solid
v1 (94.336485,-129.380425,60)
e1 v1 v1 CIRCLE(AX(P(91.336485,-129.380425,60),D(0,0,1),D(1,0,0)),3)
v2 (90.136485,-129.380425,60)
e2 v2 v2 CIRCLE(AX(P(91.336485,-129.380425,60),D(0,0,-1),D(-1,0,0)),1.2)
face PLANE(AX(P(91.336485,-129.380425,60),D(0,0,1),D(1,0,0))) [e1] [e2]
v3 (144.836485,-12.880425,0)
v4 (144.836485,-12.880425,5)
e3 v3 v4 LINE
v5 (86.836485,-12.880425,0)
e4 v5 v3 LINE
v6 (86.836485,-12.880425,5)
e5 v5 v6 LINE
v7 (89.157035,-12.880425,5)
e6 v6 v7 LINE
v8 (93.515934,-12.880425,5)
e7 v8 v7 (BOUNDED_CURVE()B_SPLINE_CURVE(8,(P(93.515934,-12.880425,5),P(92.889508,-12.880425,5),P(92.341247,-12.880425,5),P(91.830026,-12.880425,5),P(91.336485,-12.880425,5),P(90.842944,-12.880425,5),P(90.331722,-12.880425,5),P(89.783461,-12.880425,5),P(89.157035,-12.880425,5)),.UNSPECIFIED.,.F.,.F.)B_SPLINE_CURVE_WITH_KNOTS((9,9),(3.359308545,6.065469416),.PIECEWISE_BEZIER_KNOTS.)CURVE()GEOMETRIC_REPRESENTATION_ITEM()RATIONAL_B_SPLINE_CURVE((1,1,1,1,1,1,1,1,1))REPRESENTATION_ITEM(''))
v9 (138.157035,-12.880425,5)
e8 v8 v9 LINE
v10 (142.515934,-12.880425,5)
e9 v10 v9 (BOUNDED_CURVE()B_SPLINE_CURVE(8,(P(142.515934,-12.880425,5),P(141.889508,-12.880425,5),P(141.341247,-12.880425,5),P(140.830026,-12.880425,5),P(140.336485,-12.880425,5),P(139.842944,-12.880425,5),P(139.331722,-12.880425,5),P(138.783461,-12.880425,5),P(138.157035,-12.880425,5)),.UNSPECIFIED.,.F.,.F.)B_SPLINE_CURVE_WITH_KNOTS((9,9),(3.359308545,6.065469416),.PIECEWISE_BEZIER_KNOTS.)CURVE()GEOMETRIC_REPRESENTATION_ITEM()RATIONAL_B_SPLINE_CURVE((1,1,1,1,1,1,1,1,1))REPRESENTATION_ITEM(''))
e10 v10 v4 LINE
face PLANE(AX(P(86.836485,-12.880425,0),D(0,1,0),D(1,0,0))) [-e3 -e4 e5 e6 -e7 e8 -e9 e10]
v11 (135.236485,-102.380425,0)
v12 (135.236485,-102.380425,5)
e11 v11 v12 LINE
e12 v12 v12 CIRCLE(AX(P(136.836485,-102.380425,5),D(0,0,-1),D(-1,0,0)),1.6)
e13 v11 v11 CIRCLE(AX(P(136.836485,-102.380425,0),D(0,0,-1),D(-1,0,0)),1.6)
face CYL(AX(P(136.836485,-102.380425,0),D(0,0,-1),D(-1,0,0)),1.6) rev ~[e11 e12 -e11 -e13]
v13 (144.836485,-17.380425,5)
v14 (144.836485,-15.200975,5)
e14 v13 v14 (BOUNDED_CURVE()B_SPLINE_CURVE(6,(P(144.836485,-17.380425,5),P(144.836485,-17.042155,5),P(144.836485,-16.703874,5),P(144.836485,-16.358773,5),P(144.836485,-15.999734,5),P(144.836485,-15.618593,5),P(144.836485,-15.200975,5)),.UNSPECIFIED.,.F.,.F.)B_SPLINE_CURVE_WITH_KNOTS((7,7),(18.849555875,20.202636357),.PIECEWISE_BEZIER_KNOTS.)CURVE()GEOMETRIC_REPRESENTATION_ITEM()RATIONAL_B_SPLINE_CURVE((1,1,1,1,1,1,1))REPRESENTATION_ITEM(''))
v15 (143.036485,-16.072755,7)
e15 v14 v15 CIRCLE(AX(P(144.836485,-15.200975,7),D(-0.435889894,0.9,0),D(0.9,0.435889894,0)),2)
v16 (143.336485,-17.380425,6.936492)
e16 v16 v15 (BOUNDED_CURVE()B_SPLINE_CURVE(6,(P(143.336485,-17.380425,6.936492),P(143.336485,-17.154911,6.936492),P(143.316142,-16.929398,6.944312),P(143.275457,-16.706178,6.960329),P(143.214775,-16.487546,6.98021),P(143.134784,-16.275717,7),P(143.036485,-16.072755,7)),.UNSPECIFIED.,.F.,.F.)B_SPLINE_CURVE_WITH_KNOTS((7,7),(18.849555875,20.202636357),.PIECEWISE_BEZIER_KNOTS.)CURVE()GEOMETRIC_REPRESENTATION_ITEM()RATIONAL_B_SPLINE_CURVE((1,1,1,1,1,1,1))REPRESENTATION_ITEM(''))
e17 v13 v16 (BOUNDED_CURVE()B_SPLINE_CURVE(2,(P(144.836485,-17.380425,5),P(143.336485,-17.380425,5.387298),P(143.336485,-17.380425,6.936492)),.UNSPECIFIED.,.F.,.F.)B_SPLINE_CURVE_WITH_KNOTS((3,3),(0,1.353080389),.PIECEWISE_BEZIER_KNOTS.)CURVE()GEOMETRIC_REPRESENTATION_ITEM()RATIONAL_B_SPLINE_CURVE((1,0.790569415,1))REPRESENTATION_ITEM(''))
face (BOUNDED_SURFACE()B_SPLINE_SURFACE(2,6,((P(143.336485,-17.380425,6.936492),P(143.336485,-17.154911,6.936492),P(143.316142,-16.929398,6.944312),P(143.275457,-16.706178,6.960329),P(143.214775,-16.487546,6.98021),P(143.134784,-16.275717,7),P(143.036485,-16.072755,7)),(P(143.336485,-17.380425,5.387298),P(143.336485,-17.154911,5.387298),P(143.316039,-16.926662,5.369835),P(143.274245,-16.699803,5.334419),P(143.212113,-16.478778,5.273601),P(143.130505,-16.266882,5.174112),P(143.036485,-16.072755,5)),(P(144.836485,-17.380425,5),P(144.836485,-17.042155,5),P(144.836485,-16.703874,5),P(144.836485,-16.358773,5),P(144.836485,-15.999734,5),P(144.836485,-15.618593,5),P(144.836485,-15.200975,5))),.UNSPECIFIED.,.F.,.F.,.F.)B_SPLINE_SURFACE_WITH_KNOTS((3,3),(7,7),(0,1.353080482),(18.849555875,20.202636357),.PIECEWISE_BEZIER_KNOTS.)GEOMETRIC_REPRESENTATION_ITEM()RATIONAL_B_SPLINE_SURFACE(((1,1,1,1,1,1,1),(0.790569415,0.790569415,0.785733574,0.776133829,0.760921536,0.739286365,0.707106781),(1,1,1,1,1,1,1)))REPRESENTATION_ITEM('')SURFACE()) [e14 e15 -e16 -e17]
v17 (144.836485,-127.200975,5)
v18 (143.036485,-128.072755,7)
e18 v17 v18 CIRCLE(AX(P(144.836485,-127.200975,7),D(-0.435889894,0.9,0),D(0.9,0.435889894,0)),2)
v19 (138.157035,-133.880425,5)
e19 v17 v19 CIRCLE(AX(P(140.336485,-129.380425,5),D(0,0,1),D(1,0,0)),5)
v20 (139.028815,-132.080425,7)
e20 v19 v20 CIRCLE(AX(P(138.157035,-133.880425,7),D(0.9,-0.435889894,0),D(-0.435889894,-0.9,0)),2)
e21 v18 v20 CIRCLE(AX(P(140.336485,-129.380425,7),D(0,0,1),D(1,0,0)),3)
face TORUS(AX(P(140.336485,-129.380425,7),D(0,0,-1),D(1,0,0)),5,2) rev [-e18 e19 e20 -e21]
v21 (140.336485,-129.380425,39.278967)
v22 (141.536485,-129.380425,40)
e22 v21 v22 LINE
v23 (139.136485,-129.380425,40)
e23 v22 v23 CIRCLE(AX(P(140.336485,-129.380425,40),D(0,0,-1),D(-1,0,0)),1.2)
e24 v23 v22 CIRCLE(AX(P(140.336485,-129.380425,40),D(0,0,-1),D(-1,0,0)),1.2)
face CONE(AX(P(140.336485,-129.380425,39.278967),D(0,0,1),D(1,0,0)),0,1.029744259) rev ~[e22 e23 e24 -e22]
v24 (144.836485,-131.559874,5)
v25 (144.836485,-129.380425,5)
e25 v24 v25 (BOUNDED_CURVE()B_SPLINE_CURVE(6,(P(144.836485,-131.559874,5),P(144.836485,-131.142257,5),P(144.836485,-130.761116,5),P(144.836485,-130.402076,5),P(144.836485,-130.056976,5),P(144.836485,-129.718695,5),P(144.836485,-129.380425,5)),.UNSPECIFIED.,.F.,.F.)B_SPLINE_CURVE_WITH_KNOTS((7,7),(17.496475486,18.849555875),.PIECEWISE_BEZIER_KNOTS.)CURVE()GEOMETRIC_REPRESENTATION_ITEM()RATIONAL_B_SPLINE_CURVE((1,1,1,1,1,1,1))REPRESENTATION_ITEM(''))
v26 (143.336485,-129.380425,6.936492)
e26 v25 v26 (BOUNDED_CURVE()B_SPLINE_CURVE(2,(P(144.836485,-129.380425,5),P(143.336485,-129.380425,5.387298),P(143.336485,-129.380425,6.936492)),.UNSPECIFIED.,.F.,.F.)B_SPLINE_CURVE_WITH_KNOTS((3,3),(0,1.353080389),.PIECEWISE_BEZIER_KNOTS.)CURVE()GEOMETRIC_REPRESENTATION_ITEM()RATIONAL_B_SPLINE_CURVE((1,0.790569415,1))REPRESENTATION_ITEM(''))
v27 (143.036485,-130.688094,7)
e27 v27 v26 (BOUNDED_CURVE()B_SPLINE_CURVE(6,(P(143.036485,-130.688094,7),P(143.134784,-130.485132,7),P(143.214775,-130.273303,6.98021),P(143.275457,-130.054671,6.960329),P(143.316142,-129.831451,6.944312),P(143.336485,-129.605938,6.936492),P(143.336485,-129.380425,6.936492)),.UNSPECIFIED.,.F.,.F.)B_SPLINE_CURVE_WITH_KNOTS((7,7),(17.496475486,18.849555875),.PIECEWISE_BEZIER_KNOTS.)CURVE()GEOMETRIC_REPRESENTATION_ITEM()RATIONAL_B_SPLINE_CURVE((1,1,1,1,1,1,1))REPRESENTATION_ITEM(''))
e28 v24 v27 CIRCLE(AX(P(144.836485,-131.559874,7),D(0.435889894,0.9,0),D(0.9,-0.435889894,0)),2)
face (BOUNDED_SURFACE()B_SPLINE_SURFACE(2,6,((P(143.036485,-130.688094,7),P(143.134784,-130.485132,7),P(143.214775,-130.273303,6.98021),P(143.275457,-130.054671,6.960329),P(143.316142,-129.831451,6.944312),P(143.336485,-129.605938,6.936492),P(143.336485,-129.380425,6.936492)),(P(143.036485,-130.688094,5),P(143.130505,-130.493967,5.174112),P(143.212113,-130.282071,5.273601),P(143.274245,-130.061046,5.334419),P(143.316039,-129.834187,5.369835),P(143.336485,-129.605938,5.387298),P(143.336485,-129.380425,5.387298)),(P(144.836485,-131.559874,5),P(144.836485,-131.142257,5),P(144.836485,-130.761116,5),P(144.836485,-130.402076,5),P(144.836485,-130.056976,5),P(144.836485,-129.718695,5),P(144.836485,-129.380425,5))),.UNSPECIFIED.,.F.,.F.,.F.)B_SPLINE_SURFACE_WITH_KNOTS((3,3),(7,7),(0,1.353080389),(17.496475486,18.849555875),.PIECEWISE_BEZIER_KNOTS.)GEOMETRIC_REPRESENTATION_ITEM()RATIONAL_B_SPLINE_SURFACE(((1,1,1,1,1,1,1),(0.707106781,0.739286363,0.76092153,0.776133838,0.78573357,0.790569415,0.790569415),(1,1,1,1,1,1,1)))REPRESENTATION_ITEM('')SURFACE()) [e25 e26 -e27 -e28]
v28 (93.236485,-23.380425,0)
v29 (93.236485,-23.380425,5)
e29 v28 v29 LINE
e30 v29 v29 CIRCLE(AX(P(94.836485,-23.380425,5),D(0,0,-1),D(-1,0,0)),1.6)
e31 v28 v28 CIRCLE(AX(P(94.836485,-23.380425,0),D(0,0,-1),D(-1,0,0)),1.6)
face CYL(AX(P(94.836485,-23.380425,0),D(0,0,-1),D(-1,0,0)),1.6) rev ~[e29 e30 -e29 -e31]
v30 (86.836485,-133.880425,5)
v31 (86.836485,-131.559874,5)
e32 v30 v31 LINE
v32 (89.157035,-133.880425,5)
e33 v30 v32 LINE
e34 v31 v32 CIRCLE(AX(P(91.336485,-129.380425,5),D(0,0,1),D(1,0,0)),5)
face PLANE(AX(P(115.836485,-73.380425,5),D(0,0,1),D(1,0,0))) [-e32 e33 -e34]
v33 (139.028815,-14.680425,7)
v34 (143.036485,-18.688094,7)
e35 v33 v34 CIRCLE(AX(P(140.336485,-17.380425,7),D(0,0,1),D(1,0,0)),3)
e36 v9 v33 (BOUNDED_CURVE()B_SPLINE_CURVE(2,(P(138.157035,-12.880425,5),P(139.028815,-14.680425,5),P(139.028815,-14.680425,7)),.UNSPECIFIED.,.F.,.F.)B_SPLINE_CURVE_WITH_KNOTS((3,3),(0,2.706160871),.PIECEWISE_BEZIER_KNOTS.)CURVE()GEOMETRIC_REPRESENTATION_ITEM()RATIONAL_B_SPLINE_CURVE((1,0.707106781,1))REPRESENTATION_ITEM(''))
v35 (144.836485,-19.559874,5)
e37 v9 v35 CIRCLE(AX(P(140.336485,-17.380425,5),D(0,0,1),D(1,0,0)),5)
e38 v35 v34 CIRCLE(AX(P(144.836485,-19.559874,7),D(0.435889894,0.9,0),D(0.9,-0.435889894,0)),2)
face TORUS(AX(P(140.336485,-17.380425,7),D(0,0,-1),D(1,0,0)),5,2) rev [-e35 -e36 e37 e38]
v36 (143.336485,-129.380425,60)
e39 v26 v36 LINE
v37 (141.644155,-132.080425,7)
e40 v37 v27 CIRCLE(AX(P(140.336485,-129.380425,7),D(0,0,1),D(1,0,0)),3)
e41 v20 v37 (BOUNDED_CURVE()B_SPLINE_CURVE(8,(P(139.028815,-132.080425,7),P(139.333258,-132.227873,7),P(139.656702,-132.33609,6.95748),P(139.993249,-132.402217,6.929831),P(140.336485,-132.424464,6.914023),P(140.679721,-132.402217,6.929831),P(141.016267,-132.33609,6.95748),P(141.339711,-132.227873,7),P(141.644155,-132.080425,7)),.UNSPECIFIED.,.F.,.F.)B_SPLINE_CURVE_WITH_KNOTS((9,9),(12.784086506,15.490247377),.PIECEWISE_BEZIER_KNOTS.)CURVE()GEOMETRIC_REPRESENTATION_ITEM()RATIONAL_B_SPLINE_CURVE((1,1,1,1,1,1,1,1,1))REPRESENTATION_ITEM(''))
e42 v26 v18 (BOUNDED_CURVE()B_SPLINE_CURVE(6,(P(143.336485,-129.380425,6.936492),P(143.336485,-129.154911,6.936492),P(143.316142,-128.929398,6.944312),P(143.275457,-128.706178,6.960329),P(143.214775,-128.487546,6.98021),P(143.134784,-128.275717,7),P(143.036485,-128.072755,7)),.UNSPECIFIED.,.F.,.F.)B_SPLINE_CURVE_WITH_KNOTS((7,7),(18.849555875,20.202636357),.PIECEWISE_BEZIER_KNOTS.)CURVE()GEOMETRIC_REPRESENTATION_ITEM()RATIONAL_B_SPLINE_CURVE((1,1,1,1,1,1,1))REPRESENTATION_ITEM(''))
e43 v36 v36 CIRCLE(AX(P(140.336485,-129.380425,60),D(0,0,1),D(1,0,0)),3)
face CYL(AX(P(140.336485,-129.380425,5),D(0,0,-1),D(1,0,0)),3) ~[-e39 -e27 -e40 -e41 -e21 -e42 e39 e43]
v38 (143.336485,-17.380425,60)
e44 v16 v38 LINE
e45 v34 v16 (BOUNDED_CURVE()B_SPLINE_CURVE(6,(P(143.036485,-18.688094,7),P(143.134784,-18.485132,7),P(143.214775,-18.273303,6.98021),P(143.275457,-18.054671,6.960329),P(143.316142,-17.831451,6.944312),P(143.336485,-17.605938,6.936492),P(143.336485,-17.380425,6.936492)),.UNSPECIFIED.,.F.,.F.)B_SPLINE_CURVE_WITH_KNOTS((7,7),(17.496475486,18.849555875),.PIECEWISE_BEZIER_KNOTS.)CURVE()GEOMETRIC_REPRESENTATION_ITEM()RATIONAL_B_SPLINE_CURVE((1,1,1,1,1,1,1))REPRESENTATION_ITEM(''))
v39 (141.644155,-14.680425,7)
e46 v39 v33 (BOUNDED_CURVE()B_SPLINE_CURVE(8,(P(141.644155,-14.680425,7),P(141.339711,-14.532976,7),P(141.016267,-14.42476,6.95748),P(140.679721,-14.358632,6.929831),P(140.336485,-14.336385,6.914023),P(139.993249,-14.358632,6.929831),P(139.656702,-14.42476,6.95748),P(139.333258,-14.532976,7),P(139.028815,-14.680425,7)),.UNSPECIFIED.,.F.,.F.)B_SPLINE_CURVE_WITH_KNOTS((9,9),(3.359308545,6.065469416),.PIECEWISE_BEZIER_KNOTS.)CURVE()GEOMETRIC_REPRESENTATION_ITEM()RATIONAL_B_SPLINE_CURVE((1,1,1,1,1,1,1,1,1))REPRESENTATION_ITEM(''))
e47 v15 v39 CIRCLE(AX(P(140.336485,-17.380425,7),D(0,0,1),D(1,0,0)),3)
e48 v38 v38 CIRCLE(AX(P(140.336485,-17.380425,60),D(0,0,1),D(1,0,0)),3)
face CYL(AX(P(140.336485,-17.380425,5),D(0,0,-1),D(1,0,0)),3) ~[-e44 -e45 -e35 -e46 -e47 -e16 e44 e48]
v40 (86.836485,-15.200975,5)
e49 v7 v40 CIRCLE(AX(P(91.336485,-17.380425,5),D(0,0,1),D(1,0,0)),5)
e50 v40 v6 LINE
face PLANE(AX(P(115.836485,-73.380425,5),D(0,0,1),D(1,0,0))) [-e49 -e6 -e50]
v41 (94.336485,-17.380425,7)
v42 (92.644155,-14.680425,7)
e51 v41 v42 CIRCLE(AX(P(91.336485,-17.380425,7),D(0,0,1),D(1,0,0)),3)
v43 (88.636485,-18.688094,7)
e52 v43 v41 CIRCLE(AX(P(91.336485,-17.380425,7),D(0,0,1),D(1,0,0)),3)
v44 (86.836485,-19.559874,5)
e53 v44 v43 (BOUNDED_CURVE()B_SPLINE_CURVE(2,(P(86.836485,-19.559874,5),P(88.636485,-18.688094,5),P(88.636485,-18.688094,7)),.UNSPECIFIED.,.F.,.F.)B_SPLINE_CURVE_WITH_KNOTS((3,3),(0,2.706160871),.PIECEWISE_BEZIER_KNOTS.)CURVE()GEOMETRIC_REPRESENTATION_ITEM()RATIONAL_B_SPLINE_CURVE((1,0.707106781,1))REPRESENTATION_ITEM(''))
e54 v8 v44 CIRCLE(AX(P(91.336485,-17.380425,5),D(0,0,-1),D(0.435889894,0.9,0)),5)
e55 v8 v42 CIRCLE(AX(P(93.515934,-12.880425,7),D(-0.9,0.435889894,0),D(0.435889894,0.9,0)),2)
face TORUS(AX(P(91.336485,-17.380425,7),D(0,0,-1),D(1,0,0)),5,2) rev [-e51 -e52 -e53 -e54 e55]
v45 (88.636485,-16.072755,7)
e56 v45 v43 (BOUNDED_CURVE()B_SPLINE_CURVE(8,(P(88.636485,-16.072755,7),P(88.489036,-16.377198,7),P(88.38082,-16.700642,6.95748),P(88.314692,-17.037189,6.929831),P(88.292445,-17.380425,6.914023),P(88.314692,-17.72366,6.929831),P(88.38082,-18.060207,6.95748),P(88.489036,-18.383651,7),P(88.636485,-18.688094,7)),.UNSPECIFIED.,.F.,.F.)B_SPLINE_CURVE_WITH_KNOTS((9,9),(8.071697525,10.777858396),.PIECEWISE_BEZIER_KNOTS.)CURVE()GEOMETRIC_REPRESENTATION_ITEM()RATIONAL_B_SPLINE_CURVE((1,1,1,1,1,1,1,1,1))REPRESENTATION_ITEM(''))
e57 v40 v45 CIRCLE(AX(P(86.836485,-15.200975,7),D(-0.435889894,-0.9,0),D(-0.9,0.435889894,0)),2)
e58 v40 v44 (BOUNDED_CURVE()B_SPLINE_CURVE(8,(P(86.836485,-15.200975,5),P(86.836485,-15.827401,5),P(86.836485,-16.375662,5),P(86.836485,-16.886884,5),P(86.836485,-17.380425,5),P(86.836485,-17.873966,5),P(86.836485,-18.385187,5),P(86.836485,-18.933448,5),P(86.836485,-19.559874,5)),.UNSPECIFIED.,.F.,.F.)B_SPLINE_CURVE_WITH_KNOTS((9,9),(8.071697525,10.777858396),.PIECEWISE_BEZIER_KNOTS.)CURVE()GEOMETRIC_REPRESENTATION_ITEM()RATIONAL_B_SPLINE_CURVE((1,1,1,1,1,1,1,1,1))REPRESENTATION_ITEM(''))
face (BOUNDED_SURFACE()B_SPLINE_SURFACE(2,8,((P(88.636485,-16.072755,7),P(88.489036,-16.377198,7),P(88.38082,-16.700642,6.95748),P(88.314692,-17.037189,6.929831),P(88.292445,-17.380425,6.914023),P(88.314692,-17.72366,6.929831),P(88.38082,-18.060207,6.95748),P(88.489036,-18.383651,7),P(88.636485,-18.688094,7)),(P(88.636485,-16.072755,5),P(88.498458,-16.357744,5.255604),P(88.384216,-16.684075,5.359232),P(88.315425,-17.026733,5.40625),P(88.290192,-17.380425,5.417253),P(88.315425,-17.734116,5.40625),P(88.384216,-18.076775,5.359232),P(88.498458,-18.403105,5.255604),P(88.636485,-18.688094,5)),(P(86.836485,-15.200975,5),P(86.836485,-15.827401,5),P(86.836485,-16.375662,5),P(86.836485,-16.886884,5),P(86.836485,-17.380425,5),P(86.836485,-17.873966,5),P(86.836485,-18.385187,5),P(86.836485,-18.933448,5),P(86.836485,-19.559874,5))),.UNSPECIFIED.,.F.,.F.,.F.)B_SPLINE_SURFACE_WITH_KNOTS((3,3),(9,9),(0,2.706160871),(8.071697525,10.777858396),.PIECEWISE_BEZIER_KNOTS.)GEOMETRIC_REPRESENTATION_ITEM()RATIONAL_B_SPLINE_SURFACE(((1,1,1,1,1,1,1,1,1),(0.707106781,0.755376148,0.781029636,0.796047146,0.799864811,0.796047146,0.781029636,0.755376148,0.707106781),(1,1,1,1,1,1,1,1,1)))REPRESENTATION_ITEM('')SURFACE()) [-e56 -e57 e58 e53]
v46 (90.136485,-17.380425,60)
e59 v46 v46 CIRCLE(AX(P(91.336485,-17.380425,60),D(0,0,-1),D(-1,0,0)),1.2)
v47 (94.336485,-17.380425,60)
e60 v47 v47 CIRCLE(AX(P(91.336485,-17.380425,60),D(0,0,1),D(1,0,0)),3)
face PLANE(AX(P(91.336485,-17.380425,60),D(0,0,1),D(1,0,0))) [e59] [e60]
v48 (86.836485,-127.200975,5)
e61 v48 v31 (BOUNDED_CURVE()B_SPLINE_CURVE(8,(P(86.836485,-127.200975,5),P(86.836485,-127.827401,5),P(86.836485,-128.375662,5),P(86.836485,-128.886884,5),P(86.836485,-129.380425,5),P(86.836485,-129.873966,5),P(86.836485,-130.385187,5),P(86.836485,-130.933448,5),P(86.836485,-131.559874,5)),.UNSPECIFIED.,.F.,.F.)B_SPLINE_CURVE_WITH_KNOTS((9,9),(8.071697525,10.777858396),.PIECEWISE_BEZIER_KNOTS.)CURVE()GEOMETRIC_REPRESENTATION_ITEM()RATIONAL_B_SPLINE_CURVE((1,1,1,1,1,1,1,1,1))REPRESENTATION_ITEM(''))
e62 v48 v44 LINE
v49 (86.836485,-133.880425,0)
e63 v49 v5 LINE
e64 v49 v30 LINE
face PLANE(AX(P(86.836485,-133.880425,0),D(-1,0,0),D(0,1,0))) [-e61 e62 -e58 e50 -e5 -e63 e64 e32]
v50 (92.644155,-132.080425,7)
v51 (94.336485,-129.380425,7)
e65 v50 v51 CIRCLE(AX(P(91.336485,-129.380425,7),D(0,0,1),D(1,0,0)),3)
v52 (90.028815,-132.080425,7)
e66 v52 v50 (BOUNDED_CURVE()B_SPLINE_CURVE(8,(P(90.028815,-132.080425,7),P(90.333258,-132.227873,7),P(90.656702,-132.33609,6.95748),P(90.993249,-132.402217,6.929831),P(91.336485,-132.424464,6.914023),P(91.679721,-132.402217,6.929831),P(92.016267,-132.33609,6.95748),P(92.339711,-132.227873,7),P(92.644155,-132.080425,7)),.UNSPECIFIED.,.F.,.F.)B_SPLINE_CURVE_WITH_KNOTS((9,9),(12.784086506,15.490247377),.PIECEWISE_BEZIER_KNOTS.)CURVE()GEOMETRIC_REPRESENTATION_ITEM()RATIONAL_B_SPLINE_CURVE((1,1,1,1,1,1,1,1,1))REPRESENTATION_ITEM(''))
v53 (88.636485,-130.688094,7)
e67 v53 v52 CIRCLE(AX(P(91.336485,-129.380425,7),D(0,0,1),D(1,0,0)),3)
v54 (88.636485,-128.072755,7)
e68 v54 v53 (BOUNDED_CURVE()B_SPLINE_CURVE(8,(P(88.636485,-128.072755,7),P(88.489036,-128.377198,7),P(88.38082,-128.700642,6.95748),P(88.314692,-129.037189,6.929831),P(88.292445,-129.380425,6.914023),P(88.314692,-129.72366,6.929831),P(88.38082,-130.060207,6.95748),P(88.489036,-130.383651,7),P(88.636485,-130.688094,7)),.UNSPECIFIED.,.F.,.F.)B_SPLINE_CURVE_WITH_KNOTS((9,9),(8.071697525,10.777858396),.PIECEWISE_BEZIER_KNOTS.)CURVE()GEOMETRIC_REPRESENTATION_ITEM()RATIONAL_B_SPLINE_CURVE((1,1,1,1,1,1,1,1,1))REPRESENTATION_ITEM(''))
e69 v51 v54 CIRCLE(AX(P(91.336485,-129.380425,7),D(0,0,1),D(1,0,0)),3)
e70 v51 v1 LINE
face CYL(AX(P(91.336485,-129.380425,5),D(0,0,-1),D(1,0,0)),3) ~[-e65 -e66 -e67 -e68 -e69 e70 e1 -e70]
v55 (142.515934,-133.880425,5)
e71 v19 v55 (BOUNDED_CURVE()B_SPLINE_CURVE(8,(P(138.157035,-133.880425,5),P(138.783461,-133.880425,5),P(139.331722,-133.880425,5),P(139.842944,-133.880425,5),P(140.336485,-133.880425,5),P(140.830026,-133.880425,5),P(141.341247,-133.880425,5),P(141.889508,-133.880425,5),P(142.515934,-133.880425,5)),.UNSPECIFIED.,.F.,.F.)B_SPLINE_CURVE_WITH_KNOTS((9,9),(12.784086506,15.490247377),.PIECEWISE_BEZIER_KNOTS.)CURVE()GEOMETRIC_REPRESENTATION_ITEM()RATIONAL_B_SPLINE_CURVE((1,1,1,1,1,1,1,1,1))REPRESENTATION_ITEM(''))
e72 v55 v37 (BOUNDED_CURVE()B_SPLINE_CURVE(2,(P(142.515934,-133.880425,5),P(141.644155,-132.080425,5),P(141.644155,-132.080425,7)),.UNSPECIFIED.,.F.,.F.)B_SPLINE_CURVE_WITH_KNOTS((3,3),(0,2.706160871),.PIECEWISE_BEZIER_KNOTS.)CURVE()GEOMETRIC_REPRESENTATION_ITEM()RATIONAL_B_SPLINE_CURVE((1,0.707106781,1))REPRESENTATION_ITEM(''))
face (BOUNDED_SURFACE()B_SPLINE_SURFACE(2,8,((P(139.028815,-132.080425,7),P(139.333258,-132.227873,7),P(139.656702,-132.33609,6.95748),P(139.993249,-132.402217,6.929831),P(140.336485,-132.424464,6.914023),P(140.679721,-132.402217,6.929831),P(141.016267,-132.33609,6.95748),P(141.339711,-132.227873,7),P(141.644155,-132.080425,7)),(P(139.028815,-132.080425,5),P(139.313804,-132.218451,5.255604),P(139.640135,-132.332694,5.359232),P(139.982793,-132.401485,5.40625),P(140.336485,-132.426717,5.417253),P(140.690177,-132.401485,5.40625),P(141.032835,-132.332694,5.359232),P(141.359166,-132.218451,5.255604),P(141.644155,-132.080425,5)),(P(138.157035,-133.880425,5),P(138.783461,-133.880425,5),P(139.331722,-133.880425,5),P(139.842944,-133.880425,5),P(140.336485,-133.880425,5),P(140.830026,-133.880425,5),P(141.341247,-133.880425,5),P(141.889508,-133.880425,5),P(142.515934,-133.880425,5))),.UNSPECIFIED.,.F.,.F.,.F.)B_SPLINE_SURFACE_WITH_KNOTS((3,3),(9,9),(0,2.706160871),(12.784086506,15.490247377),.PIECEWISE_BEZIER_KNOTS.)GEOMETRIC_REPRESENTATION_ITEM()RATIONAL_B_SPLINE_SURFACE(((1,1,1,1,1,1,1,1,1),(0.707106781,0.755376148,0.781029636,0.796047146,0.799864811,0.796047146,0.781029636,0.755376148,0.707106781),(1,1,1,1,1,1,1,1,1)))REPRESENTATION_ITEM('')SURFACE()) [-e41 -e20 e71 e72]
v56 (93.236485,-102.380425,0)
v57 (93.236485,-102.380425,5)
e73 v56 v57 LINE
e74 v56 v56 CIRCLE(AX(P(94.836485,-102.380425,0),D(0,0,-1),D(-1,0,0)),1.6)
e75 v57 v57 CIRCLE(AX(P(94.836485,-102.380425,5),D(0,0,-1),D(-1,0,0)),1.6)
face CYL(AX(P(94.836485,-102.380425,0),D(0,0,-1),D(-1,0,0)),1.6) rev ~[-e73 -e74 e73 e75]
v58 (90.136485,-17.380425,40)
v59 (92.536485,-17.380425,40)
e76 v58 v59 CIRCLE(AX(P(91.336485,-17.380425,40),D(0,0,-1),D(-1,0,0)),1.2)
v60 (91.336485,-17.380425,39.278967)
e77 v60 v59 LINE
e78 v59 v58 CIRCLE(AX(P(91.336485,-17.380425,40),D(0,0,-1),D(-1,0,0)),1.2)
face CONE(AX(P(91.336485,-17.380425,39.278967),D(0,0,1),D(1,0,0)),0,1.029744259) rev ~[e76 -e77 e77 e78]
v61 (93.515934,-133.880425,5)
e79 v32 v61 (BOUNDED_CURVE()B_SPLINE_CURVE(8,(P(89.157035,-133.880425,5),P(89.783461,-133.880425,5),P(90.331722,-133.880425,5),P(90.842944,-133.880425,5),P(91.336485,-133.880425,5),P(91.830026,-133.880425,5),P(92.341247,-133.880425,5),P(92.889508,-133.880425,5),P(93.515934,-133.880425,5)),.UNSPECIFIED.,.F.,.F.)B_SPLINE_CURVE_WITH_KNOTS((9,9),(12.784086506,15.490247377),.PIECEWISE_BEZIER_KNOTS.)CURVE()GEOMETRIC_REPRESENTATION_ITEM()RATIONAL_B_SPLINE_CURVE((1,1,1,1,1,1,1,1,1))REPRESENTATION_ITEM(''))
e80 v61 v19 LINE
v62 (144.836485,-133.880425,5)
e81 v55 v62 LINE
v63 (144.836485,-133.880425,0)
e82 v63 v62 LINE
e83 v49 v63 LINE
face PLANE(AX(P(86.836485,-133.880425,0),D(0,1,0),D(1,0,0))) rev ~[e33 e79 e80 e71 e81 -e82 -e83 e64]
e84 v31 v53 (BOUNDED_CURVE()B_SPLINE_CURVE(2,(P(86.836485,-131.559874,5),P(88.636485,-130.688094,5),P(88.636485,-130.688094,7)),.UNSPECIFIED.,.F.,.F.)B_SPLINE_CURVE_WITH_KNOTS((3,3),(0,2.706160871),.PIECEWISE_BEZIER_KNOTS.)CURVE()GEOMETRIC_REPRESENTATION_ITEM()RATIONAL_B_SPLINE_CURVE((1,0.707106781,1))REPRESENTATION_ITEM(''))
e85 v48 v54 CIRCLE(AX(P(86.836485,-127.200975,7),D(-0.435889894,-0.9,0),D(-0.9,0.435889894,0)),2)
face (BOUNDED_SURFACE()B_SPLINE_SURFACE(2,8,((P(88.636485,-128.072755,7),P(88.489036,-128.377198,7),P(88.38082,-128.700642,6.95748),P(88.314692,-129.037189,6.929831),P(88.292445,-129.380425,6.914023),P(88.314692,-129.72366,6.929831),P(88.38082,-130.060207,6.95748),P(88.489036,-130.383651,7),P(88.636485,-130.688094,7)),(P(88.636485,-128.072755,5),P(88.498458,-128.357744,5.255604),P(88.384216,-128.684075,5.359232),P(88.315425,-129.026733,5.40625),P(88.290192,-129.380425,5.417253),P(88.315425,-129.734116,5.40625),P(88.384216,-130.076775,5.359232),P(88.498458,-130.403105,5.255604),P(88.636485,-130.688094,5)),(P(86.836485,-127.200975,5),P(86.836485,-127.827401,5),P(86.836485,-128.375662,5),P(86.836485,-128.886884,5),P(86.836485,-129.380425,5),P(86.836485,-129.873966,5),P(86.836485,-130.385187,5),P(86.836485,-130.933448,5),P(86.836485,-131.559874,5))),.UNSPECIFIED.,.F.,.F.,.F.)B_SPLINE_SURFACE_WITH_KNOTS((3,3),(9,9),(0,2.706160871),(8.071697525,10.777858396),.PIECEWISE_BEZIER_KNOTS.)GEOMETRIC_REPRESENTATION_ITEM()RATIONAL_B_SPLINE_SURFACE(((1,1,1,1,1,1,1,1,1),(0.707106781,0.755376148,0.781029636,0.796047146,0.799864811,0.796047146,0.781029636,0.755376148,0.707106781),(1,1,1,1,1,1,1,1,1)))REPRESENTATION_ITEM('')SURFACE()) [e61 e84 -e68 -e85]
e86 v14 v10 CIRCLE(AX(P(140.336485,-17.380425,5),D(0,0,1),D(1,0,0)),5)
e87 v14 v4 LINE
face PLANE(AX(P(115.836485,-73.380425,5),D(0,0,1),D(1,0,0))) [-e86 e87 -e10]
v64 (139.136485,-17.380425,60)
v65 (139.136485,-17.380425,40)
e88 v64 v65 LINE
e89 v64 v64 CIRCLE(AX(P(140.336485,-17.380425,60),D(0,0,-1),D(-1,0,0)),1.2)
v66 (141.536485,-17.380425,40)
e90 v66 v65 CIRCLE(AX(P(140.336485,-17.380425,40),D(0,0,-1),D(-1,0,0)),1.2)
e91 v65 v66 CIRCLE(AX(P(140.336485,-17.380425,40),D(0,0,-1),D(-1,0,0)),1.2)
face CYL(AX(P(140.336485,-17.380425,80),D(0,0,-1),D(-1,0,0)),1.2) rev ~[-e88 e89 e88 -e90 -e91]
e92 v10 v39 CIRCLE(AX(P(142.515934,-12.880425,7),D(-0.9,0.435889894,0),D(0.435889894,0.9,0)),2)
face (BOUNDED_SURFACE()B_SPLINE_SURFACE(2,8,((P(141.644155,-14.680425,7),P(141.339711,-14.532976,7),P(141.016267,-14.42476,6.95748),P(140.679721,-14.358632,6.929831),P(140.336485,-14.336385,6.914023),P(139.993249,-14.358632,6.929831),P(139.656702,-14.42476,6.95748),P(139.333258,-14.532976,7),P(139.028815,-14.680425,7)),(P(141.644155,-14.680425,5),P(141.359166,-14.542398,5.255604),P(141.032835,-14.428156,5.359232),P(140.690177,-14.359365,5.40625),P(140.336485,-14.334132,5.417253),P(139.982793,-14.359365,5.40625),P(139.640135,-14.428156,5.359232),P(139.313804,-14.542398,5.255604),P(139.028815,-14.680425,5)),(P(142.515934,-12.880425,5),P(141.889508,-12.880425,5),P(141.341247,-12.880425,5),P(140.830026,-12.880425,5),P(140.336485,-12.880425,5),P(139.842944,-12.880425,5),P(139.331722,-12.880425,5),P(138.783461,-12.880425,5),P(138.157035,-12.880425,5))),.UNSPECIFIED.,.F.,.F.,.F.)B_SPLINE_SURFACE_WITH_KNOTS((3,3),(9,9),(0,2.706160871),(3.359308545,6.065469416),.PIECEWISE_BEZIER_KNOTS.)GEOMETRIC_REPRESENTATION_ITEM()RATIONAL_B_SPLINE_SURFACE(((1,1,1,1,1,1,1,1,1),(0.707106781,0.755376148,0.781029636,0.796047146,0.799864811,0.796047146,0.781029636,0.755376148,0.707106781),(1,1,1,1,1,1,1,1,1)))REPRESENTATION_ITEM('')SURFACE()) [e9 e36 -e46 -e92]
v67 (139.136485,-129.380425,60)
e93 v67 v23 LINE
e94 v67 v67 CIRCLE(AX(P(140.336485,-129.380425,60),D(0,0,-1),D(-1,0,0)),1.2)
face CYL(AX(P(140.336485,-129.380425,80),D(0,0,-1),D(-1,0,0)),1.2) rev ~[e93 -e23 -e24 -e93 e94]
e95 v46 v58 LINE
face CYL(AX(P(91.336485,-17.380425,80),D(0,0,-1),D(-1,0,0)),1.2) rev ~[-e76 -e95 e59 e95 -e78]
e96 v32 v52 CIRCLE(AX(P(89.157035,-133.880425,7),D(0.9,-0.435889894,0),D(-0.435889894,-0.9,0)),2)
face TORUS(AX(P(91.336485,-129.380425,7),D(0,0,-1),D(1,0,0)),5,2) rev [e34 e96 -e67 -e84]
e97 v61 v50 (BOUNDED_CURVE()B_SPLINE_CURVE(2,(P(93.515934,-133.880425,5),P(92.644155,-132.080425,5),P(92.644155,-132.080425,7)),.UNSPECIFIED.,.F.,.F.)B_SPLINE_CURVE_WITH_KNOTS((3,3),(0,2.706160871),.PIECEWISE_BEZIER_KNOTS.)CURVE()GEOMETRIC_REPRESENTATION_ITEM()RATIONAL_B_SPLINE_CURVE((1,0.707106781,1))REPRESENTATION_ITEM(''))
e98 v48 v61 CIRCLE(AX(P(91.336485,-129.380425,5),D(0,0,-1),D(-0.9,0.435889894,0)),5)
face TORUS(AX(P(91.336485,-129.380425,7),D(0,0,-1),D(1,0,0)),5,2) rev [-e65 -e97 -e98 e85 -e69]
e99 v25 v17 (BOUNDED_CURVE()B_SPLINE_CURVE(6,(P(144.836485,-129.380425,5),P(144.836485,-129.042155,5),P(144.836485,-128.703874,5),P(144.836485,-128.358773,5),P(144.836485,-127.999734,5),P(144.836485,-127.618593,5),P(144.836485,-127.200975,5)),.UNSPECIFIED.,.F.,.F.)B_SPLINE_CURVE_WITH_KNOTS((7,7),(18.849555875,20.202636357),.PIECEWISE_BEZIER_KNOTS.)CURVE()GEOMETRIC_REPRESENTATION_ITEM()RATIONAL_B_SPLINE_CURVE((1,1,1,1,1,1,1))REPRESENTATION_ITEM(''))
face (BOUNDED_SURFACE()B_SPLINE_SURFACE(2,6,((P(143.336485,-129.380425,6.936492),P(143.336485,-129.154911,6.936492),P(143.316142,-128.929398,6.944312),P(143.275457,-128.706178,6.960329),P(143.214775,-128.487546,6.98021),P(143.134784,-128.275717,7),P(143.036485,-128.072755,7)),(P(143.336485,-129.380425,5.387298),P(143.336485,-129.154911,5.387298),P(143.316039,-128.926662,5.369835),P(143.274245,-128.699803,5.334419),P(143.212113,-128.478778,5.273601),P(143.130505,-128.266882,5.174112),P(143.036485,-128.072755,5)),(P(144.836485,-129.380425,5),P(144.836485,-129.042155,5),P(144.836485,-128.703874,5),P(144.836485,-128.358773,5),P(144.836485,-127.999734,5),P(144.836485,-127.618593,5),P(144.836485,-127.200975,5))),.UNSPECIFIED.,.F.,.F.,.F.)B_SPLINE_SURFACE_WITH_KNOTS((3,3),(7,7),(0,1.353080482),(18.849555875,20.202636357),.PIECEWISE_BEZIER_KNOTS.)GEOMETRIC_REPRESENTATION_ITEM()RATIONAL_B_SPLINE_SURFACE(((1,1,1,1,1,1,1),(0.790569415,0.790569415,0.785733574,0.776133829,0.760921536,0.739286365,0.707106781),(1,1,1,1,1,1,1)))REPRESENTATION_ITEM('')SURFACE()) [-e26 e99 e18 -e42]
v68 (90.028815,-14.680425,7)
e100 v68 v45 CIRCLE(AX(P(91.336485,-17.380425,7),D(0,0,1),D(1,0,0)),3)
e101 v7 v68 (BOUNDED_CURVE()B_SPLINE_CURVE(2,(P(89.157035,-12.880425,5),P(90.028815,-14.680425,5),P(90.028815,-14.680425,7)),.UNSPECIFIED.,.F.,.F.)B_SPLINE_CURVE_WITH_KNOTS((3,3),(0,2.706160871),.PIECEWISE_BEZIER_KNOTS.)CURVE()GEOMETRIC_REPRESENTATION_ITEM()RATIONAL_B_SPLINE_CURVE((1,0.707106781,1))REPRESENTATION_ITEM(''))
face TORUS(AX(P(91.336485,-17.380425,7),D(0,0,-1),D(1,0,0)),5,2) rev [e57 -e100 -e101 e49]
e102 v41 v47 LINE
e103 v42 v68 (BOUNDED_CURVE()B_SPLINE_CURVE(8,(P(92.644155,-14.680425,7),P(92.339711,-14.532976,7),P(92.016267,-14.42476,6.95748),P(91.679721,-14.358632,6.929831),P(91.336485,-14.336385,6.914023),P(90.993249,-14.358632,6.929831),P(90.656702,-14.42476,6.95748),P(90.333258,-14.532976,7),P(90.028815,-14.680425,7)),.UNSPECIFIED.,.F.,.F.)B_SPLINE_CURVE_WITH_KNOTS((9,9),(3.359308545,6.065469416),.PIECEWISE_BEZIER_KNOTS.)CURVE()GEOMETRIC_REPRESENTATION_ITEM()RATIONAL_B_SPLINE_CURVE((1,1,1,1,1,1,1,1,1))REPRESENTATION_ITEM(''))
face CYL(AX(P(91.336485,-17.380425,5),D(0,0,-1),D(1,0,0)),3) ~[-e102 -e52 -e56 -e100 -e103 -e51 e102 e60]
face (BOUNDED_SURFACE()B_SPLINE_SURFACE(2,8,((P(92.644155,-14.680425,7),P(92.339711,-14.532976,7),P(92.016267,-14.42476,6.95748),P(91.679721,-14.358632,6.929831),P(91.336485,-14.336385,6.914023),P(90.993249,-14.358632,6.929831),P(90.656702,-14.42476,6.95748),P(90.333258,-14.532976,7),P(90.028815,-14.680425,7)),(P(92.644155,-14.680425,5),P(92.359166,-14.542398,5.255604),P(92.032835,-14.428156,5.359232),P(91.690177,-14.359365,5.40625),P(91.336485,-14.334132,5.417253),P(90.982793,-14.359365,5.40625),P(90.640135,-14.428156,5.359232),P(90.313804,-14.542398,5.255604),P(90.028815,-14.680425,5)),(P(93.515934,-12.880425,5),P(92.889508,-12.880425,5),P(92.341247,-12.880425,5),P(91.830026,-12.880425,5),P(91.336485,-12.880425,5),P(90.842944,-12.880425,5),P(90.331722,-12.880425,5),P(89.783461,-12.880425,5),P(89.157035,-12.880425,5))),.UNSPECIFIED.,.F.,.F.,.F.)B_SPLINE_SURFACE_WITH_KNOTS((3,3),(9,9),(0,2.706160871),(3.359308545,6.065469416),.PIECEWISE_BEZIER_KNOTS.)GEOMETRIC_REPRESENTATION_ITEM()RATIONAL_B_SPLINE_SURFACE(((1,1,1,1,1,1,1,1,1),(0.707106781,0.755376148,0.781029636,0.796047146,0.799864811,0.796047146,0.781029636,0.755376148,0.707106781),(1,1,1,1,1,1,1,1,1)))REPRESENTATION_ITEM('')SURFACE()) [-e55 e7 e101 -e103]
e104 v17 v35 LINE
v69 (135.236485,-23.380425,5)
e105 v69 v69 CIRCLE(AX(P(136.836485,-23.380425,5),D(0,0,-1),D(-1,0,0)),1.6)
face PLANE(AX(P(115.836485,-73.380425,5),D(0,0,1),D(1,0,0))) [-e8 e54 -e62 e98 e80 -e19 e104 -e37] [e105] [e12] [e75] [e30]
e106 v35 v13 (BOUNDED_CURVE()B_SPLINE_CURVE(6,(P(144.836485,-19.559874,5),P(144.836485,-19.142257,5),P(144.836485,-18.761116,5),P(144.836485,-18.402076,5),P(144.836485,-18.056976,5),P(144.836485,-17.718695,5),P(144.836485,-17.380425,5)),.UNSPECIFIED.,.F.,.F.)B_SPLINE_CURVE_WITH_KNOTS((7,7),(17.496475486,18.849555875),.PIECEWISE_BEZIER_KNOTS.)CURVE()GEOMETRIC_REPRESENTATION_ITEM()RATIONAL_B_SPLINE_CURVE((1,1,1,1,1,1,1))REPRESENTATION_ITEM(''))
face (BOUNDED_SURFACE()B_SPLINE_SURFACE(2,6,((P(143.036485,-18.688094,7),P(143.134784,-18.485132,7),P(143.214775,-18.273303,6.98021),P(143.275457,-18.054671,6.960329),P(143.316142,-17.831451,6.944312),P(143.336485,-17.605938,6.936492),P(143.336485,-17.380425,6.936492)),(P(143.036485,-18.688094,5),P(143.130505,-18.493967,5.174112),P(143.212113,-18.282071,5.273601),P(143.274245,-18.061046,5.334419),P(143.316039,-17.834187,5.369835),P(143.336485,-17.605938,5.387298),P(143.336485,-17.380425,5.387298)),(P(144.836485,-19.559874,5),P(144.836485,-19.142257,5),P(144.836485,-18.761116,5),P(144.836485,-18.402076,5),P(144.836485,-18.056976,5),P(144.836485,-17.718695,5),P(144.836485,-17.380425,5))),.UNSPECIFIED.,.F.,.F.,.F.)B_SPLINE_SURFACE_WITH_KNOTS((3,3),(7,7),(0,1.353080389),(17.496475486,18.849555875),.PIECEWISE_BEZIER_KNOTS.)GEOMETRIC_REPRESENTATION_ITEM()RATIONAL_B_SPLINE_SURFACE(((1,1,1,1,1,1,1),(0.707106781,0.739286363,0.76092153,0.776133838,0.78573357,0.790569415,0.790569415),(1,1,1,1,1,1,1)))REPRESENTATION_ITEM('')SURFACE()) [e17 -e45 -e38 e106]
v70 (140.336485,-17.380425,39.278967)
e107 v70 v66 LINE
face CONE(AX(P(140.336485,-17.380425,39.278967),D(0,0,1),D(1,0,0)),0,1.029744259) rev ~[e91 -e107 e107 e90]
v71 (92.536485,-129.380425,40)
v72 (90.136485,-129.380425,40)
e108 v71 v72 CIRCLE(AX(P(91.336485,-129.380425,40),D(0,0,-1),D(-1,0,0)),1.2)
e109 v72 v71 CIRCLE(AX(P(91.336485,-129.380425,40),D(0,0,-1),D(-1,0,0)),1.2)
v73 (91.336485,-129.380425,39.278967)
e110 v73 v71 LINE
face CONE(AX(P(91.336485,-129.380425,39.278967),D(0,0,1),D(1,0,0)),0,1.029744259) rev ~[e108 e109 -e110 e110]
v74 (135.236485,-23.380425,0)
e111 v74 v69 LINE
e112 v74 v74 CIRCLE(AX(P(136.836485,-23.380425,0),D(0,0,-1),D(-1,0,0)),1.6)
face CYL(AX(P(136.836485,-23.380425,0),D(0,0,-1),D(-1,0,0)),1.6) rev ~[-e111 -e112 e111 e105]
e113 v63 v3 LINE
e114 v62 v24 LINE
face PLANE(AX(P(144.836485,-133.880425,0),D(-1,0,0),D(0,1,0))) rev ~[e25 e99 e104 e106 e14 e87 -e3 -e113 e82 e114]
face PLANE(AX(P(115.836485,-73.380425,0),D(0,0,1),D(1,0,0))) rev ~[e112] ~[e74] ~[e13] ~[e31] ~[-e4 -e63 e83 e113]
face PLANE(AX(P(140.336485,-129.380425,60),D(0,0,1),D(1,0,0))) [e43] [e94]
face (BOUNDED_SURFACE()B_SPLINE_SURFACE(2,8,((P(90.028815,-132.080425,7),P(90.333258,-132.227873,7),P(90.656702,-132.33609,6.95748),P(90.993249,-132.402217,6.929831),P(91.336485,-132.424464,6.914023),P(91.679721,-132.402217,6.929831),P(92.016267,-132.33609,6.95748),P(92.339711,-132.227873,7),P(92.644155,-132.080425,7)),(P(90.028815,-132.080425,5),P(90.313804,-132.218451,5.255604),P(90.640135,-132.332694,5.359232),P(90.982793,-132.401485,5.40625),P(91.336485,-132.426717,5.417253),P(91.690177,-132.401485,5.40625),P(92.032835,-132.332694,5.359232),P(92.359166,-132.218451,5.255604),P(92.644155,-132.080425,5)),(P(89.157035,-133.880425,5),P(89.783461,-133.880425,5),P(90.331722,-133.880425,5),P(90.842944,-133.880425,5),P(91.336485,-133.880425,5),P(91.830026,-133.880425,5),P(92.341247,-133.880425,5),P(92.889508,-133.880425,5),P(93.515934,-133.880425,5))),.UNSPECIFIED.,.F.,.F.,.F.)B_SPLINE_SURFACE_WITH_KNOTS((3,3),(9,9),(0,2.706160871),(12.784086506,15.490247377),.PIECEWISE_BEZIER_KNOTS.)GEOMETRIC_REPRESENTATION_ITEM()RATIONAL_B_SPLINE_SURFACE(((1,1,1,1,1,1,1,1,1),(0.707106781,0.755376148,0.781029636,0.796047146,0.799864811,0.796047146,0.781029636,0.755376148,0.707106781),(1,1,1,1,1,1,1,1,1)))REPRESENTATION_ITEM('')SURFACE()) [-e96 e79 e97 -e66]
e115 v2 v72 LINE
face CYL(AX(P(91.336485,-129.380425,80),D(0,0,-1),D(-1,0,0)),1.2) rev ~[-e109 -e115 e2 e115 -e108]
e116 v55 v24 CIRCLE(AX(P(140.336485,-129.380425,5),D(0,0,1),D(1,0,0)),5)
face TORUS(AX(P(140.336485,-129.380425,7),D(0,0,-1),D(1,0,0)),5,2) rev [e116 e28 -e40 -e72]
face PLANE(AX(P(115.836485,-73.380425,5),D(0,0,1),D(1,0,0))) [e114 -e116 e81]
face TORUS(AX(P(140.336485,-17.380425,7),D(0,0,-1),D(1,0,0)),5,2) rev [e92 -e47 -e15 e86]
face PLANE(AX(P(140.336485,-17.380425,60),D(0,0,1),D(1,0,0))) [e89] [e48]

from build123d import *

# Parameters (mm, degrees)
SCHIZZO1_W                   = 58
SCHIZZO1_H                   = 121
ESTRUSIONE_ESTRUSIONE2_DEPTH = 5
TAGLIO_ESTRUSIONE1_REACH     = 7
SCHIZZO12_R                  = 1.6
SCHIZZO2_R                   = 3
ESTRUSIONE_ESTRUSIONE3_DEPTH = 55
RACCORDO1_R                  = 2
FORO_PER_VITE_M3_1_D         = 2.4
FORO_PER_VITE_M3_1_DEPTH     = 20
FORO_PER_VITE_M3_1_TIP       = 0.721032743


with BuildPart() as part:
    # Schizzo1 → Estrusione-Estrusione2 (new body)
    with BuildSketch(Plane.XY):
        with Locations((115.836484846, -73.380424615)):
            Rectangle(SCHIZZO1_W, SCHIZZO1_H)
    extrude(amount=ESTRUSIONE_ESTRUSIONE2_DEPTH)

    # Schizzo12 → Taglio-Estrusione1 (cut, up to next)
    with BuildSketch(Plane(origin=(0, 0, 0), x_dir=(-1, 0, 0), z_dir=(0, 0, -1)), mode=Mode.PRIVATE) as taglio_estrusione1_sk1:
        with Locations((-94.836484846, -102.380424615)):
            Circle(SCHIZZO12_R)
    taglio_estrusione1_tool1 = extrude(taglio_estrusione1_sk1.sketch, amount=-TAGLIO_ESTRUSIONE1_REACH, mode=Mode.PRIVATE) & part.part
    add(taglio_estrusione1_tool1.solids().sort_by_distance((94.836485, -102.380425, 0))[0], mode=Mode.SUBTRACT)
    # Schizzo12 → Taglio-Estrusione1 (cut, up to next)
    with BuildSketch(Plane(origin=(0, 0, 0), x_dir=(-1, 0, 0), z_dir=(0, 0, -1)), mode=Mode.PRIVATE) as taglio_estrusione1_sk2:
        with Locations((-136.836484846, -102.380424615)):
            Circle(SCHIZZO12_R)
    taglio_estrusione1_tool2 = extrude(taglio_estrusione1_sk2.sketch, amount=-TAGLIO_ESTRUSIONE1_REACH, mode=Mode.PRIVATE) & part.part
    add(taglio_estrusione1_tool2.solids().sort_by_distance((136.836485, -102.380425, 0))[0], mode=Mode.SUBTRACT)
    # Schizzo12 → Taglio-Estrusione1 (cut, up to next)
    with BuildSketch(Plane(origin=(0, 0, 0), x_dir=(-1, 0, 0), z_dir=(0, 0, -1)), mode=Mode.PRIVATE) as taglio_estrusione1_sk3:
        with Locations((-136.836484846, -23.380424615)):
            Circle(SCHIZZO12_R)
    taglio_estrusione1_tool3 = extrude(taglio_estrusione1_sk3.sketch, amount=-TAGLIO_ESTRUSIONE1_REACH, mode=Mode.PRIVATE) & part.part
    add(taglio_estrusione1_tool3.solids().sort_by_distance((136.836485, -23.380425, 0))[0], mode=Mode.SUBTRACT)
    # Schizzo12 → Taglio-Estrusione1 (cut, up to next)
    with BuildSketch(Plane(origin=(0, 0, 0), x_dir=(-1, 0, 0), z_dir=(0, 0, -1)), mode=Mode.PRIVATE) as taglio_estrusione1_sk4:
        with Locations((-94.836484846, -23.380424615)):
            Circle(SCHIZZO12_R)
    taglio_estrusione1_tool4 = extrude(taglio_estrusione1_sk4.sketch, amount=-TAGLIO_ESTRUSIONE1_REACH, mode=Mode.PRIVATE) & part.part
    add(taglio_estrusione1_tool4.solids().sort_by_distance((94.836485, -23.380425, 0))[0], mode=Mode.SUBTRACT)

    # Schizzo2 → Estrusione-Estrusione3 (add)
    with BuildSketch(Plane.XY.offset(5)):
        with Locations((140.336484846, -129.380424615)):
            Circle(SCHIZZO2_R)
        with Locations((91.336484846, -129.380424615)):
            Circle(SCHIZZO2_R)
        with Locations((140.336484846, -17.380424615)):
            Circle(SCHIZZO2_R)
        with Locations((91.336484846, -17.380424615)):
            Circle(SCHIZZO2_R)
    extrude(amount=ESTRUSIONE_ESTRUSIONE3_DEPTH)

    # Raccordo1
    raccordo1_edges = [part.edges().sort_by_distance(p)[0] for p in [
        (88.336484846, -129.380424615, 5),
        (137.336484846, -17.380424615, 5),
        (137.336484846, -129.380424615, 5),
        (88.336484846, -17.380424615, 5),
    ]]
    fillet(raccordo1_edges, radius=RACCORDO1_R)

    # Foro per Vite M3-1
    with Locations(Plane.XY.offset(60)):
        with Locations((140.336484846, -129.380424615), (91.336484846, -129.380424615), (91.336484846, -17.380424615), (140.336484846, -17.380424615)):
            Hole(FORO_PER_VITE_M3_1_D / 2, depth=FORO_PER_VITE_M3_1_DEPTH)
            with Locations((0, 0, -(FORO_PER_VITE_M3_1_DEPTH + FORO_PER_VITE_M3_1_TIP / 2))):  # 118° drill point
                Cone(0, FORO_PER_VITE_M3_1_D / 2, FORO_PER_VITE_M3_1_TIP, mode=Mode.SUBTRACT)


solid = part.part
